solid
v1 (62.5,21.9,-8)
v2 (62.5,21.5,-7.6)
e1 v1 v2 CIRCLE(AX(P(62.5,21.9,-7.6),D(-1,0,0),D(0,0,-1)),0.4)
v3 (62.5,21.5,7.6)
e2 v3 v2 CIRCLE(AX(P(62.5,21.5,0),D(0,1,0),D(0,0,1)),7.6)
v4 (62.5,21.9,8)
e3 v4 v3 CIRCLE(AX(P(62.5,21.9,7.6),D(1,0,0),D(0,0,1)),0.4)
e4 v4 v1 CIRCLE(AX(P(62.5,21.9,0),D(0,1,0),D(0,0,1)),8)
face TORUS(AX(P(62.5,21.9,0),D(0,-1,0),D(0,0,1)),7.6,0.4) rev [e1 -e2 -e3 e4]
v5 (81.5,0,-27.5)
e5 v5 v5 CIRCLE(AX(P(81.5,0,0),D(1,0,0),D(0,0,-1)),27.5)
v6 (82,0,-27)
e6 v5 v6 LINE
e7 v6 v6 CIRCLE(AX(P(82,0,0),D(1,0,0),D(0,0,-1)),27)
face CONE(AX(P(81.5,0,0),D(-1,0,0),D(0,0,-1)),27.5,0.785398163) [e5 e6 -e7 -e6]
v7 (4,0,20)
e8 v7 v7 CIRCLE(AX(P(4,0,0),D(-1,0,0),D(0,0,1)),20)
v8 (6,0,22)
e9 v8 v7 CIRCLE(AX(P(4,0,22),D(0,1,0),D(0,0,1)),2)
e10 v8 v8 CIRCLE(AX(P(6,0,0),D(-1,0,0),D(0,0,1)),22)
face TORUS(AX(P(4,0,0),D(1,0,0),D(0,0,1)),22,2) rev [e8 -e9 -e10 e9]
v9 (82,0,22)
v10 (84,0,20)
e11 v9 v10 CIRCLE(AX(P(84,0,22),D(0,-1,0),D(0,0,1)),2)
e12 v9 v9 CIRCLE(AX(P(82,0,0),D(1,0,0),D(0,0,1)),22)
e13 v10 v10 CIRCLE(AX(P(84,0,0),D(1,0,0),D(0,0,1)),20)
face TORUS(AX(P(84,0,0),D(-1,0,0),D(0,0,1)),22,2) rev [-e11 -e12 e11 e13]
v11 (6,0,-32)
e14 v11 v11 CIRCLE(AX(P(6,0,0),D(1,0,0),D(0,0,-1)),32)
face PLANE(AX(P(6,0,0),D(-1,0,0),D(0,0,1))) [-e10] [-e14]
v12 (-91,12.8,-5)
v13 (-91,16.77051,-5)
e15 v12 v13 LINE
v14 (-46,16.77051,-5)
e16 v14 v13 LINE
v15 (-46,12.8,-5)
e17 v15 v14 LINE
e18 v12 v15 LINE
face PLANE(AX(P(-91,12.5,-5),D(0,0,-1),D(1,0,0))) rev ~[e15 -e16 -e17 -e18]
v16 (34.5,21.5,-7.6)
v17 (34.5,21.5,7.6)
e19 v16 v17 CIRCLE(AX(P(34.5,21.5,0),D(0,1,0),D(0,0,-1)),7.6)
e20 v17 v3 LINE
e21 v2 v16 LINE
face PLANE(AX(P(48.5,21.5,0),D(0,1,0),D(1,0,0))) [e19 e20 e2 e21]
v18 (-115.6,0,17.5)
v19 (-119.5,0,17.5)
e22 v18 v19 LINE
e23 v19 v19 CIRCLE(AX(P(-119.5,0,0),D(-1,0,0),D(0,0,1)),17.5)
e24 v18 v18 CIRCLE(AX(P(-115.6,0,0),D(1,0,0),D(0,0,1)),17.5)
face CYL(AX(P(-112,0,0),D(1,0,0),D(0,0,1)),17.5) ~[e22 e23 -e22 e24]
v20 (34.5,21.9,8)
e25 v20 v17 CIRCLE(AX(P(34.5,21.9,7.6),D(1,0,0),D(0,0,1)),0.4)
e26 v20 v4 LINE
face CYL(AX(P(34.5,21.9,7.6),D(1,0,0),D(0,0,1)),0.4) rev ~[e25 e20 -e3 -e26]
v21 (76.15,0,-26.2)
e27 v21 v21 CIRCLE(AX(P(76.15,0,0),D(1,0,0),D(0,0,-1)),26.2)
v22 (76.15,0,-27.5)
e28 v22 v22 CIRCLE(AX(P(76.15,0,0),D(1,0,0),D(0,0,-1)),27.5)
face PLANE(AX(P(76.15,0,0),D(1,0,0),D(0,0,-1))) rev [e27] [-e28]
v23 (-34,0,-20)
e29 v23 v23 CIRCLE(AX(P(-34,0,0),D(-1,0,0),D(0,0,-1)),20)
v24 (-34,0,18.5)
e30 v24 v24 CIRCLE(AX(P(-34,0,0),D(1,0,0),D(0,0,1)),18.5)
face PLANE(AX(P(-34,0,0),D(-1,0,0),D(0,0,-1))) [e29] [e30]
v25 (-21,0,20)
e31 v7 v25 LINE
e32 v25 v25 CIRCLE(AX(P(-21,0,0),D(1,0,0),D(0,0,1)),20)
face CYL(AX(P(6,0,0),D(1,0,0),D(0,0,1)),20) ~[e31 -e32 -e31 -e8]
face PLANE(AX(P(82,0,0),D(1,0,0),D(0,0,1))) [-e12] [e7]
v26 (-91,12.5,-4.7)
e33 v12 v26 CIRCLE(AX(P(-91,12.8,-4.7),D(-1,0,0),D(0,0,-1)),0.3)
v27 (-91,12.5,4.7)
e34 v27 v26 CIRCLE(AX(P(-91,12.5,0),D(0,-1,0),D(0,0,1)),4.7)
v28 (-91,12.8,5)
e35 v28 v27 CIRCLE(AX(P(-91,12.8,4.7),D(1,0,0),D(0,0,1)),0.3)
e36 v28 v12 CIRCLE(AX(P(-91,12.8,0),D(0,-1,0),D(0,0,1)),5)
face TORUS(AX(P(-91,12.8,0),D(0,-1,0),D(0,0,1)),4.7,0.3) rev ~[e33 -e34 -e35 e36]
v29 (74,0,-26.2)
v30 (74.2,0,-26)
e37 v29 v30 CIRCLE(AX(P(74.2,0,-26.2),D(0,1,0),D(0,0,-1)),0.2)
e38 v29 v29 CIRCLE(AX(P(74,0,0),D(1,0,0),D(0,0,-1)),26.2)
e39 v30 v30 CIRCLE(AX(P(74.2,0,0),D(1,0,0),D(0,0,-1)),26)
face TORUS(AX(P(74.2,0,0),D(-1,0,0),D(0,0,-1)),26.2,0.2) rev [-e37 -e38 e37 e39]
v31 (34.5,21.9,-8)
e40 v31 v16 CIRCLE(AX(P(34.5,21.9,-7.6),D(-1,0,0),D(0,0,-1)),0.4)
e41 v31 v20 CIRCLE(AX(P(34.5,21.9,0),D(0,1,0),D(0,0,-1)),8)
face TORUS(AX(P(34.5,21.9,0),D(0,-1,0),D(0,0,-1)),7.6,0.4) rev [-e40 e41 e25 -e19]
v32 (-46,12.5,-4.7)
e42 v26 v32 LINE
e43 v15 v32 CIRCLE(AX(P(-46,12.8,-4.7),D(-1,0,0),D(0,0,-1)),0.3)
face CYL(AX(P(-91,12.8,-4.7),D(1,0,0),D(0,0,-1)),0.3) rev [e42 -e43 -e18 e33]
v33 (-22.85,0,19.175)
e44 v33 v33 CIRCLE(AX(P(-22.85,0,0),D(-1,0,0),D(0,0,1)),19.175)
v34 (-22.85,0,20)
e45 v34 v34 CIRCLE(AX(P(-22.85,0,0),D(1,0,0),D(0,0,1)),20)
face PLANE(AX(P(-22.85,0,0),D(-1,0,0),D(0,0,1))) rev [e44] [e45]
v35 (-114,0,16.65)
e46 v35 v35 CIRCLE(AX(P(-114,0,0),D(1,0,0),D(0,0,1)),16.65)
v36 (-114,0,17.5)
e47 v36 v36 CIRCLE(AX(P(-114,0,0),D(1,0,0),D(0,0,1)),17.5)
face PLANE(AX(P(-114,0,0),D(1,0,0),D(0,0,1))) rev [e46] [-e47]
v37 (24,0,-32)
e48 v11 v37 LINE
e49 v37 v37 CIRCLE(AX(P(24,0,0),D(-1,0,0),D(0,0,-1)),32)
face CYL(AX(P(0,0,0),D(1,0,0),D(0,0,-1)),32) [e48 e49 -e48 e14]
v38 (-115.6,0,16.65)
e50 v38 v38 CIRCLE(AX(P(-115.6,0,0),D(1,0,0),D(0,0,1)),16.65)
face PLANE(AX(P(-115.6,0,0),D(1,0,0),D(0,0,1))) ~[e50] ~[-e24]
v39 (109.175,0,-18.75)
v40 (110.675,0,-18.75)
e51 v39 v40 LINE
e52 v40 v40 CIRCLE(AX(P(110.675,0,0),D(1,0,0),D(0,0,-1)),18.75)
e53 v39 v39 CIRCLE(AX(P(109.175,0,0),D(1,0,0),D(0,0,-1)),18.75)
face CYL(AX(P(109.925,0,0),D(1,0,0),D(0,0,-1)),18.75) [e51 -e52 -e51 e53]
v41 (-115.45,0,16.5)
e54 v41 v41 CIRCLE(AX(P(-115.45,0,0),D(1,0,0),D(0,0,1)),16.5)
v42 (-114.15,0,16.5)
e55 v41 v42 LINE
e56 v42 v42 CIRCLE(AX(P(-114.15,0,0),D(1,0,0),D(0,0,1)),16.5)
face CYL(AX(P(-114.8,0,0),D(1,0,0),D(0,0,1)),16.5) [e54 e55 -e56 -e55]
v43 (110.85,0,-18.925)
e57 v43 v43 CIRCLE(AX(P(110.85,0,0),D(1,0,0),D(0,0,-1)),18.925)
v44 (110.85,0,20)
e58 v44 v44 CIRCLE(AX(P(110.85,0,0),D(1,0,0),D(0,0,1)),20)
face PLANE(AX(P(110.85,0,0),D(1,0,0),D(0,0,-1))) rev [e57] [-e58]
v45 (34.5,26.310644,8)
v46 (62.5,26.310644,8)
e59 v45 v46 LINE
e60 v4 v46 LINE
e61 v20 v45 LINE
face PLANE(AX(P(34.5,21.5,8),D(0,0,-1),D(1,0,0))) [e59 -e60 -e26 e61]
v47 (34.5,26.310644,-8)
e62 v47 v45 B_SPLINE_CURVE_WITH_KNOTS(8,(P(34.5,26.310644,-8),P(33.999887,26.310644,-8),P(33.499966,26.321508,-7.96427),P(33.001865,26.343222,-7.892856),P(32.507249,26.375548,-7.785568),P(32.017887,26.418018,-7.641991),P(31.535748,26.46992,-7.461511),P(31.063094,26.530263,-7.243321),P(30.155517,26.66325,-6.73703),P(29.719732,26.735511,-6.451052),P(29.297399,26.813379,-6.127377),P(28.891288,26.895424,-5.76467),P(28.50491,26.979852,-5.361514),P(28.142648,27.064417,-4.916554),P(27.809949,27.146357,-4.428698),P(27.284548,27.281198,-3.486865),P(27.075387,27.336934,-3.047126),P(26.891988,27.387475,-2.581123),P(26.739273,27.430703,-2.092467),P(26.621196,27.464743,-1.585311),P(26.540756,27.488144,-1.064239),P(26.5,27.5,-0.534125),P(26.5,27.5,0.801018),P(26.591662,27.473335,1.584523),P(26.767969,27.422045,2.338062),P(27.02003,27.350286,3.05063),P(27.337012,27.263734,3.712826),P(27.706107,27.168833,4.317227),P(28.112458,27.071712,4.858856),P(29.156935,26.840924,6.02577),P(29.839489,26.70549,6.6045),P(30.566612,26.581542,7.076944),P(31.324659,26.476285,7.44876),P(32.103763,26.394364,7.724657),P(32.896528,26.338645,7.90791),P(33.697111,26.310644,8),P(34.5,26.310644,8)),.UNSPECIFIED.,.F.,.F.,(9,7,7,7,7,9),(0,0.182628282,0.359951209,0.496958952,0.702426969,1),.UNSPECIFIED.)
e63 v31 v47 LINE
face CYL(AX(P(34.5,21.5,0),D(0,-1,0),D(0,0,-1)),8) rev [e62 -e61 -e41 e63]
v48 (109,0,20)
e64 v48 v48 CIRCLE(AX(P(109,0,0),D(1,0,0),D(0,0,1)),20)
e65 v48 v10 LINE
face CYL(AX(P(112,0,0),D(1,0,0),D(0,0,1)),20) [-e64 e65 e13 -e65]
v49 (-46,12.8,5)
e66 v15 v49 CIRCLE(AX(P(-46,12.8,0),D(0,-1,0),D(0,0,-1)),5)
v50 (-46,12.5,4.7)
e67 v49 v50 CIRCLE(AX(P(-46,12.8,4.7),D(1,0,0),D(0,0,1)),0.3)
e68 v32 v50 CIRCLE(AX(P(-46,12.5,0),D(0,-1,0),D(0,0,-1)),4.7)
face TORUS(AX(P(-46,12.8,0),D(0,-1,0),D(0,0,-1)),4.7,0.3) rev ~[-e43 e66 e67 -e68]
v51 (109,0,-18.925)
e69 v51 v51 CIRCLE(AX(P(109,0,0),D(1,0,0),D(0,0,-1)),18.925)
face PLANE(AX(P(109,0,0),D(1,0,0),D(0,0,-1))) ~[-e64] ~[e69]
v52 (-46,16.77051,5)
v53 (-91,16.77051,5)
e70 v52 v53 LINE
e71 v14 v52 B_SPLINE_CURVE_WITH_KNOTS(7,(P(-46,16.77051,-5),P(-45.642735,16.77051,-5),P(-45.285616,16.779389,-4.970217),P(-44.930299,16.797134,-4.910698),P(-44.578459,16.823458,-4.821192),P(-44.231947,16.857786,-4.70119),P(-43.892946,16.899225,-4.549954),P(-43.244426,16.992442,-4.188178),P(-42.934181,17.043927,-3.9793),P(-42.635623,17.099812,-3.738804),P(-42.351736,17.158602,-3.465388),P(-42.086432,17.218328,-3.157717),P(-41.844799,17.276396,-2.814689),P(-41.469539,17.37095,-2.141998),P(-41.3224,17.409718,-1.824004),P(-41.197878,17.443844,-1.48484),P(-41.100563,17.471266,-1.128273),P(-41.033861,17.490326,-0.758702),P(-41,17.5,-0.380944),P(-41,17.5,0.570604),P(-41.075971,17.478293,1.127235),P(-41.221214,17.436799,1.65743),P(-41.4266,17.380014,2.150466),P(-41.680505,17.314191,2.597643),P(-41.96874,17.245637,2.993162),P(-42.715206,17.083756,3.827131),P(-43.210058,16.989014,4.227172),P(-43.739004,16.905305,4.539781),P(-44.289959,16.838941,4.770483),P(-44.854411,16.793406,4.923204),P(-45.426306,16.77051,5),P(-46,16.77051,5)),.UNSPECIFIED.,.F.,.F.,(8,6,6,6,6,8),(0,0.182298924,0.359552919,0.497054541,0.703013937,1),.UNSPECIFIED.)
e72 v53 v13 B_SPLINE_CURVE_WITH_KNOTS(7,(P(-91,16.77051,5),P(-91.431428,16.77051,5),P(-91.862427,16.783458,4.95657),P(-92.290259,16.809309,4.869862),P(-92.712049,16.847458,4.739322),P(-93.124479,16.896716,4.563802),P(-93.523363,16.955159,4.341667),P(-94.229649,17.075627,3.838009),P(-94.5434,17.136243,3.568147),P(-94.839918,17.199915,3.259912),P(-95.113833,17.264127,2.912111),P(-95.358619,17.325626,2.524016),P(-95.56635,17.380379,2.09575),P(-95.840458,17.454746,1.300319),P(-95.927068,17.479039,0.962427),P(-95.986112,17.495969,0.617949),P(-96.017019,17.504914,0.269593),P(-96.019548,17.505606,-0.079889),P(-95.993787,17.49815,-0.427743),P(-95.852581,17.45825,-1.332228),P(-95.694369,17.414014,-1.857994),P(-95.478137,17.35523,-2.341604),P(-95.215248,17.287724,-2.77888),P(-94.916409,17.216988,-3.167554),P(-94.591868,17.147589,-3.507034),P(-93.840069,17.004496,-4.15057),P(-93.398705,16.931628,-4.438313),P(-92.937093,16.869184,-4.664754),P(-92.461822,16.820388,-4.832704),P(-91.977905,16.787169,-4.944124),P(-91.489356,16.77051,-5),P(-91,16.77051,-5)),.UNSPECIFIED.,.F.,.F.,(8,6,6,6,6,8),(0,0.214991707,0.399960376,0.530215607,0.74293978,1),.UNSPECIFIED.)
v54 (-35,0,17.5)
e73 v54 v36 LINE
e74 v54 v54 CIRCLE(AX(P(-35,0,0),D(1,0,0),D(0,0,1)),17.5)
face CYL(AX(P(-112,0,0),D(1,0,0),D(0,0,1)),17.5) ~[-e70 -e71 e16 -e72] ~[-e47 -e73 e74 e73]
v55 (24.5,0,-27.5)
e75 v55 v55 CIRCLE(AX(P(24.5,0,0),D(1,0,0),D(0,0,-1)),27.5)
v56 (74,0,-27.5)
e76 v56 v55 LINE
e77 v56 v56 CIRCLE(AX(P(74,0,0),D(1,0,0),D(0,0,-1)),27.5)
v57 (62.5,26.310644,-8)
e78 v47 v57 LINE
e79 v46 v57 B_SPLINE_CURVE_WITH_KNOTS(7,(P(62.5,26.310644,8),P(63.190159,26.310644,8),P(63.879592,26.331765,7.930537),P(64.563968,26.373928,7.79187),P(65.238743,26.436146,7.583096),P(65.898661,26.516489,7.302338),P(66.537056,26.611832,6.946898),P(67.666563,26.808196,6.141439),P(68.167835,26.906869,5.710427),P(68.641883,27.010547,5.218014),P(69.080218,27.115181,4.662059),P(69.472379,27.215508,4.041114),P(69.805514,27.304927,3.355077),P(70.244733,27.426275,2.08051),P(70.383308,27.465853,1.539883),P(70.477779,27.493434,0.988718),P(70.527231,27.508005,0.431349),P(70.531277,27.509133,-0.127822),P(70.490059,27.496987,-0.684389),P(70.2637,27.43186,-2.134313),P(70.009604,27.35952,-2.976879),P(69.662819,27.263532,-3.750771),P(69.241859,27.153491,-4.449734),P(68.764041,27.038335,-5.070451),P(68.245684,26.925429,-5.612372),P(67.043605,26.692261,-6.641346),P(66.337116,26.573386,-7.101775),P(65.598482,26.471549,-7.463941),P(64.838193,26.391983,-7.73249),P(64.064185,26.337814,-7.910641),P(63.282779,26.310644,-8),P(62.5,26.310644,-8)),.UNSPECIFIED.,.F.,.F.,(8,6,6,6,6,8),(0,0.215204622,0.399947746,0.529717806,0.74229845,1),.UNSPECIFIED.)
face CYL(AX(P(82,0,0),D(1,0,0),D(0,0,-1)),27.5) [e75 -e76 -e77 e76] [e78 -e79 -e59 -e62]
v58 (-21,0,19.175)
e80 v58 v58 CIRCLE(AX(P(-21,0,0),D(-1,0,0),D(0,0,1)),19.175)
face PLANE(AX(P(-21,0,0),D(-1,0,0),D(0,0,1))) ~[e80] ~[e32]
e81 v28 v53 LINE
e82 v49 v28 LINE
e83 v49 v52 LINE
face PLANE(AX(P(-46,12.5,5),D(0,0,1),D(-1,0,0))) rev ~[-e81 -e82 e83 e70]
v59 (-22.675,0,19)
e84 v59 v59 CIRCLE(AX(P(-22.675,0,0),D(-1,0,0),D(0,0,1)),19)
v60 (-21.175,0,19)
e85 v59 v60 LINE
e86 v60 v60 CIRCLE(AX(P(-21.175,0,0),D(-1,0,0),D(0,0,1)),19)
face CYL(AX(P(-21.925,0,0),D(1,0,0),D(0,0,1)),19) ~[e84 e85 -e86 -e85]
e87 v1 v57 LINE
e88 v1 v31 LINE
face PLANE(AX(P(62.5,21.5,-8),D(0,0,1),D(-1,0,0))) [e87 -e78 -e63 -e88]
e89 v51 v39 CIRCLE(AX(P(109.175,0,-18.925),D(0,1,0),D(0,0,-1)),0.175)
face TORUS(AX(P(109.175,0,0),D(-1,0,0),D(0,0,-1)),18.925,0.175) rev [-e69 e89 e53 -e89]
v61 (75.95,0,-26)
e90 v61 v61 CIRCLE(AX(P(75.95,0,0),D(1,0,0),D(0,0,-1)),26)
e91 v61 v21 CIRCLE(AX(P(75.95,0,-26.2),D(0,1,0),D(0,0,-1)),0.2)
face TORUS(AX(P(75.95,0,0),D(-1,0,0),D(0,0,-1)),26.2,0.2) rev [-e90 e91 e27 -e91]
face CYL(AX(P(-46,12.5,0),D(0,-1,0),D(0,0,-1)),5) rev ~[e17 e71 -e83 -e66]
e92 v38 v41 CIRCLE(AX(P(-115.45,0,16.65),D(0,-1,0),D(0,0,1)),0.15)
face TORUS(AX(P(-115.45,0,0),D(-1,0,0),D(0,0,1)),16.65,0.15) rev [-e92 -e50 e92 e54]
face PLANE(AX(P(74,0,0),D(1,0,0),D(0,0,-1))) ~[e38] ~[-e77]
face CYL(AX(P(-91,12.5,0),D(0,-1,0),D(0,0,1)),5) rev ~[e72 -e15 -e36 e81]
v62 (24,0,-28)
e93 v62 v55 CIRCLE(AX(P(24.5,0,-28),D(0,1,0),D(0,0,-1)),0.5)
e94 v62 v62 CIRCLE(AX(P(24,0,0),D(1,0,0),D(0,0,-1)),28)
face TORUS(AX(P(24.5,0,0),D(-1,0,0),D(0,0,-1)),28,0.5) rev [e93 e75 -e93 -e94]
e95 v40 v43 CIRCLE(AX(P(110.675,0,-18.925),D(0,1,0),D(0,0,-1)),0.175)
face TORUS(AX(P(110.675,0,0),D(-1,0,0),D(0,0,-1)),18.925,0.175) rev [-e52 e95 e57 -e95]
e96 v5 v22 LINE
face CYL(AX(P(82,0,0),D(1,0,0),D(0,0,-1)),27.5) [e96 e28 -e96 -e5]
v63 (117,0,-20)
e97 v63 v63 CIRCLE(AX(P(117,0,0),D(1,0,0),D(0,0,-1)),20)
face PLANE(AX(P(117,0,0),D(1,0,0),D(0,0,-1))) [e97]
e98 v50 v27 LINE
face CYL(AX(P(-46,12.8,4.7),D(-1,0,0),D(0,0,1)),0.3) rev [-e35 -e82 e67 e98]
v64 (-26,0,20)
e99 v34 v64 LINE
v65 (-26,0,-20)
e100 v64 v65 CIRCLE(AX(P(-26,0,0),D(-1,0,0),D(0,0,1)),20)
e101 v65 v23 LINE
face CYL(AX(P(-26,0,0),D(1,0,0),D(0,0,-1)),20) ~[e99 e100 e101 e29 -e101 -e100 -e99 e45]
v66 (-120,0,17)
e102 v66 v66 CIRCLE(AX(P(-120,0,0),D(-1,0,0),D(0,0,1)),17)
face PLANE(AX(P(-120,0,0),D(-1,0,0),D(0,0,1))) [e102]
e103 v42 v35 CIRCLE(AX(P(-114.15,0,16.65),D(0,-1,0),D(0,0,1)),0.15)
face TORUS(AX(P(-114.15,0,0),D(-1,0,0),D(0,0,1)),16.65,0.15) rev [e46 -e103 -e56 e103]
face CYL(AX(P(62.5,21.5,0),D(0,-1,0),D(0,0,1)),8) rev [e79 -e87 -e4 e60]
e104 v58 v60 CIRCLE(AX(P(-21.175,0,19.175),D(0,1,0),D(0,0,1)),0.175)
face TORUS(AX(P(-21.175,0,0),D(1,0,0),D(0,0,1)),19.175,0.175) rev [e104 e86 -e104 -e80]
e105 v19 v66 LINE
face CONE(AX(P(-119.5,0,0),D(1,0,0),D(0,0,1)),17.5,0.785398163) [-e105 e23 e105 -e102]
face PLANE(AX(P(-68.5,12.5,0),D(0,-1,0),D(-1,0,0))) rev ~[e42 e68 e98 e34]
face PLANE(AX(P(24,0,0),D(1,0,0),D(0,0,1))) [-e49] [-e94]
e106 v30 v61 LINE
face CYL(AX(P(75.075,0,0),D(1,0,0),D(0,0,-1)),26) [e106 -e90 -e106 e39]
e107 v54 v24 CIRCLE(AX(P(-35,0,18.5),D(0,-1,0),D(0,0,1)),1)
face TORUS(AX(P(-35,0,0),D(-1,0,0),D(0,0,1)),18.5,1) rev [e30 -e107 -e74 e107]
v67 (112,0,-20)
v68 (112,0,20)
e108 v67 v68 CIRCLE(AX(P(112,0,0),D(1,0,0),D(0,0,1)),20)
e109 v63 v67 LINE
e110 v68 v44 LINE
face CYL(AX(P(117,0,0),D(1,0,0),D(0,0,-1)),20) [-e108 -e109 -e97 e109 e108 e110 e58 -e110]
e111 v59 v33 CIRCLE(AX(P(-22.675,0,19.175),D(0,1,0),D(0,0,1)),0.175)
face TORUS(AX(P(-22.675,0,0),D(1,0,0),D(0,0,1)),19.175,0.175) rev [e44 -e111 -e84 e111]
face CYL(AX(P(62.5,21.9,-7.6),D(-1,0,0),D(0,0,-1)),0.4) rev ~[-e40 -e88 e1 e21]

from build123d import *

# Parameters (mm, degrees)
SKETCH1_R               = 32
BOSS_EXTRUDE1_DEPTH     = 112
CUT_EXTRUDE1_START      = -86
SKETCH2_R               = 32
SKETCH2_R_2             = 17.5
CUT_EXTRUDE1_DEPTH      = 86
CUT_EXTRUDE2_START      = -32
SKETCH3_R               = 32
SKETCH3_R_2             = 20
CUT_EXTRUDE2_DEPTH      = 32
SKETCH4_R               = 32
SKETCH4_R_2             = 20
CUT_EXTRUDE3_DEPTH      = 30
SKETCH5_R               = 32
SKETCH5_R_2             = 27.5
CUT_EXTRUDE4_DEPTH      = 58
FILLET1_R               = 2
SKETCH7_W               = 1.85
SKETCH7_H               = 3.319400233
FILLET4_R               = 0.175
SKETCH8_W               = 2.15
SKETCH8_H               = 4.135066137
FILLET5_R               = 0.2
SKETCH9_W               = 1.85
SKETCH9_H               = 3.052950418
FILLET6_R               = 0.175
BOSS_EXTRUDE2_START     = 5
SKETCH10_R              = 20
BOSS_EXTRUDE2_DEPTH     = 5
CUT_EXTRUDE6_REACH      = 139.947
CUT_EXTRUDE6_END_RADIUS = 17.5
CUT_EXTRUDE6_START      = 12.5
FILLET8_R               = 0.3
CUT_EXTRUDE7_REACH      = 148.947
CUT_EXTRUDE7_END_RADIUS = 27.5
CUT_EXTRUDE7_START      = 21.5
FILLET9_R               = 0.4
SKETCH14_R              = 20
BOSS_EXTRUDE3_DEPTH     = 8
SKETCH15_R              = 17.5
BOSS_EXTRUDE4_DEPTH     = 8
SKETCH16_W              = 1.6
SKETCH16_H              = 2.705242986
FILLET10_R              = 0.15
CHAMFER1_SIZE           = 0.5
FILLET11_R              = 1
FILLET12_R              = 0.5


with BuildPart() as part:
    # Sketch1 → Boss-Extrude1 (new, symmetric)
    with BuildSketch(Plane(origin=(0, 0, 0), x_dir=(0, 0, -1), z_dir=(1, 0, 0))):
        Circle(SKETCH1_R)
    extrude(amount=BOSS_EXTRUDE1_DEPTH, both=True)

    # Sketch2 → Cut-Extrude1 (cut)
    with BuildSketch(Plane.ZY.offset(112).offset(CUT_EXTRUDE1_START)):
        Circle(SKETCH2_R)
        Circle(SKETCH2_R_2, mode=Mode.SUBTRACT)
    extrude(amount=CUT_EXTRUDE1_DEPTH, mode=Mode.SUBTRACT)

    # Sketch3 → Cut-Extrude2 (cut)
    with BuildSketch(Plane.ZY.offset(26).offset(CUT_EXTRUDE2_START)):
        Circle(SKETCH3_R)
        Circle(SKETCH3_R_2, mode=Mode.SUBTRACT)
    extrude(amount=CUT_EXTRUDE2_DEPTH, mode=Mode.SUBTRACT)

    # Sketch4 → Cut-Extrude3 (cut)
    with BuildSketch(Plane(origin=(112, 0, 0), x_dir=(0, 0, -1), z_dir=(1, 0, 0))):
        with Locations(Location((0, 0, 0), (0, 0, 180))):
            Circle(SKETCH4_R)
        with Locations(Location((0, 0, 0), (0, 0, 180))):
            Circle(SKETCH4_R_2, mode=Mode.SUBTRACT)
    extrude(amount=-CUT_EXTRUDE3_DEPTH, mode=Mode.SUBTRACT)

    # Sketch5 → Cut-Extrude4 (cut)
    with BuildSketch(Plane(origin=(82, 0, 0), x_dir=(0, 0, -1), z_dir=(1, 0, 0))):
        with Locations(Location((0, 0, 0), (0, 0, 180))):
            Circle(SKETCH5_R)
        Circle(SKETCH5_R_2, mode=Mode.SUBTRACT)
    extrude(amount=-CUT_EXTRUDE4_DEPTH, mode=Mode.SUBTRACT)

    # Fillet1
    fillet1_edges = [part.edges().sort_by_distance(p)[0] for p in [
        (6, 0, -20),
        (82, 0, -20),
    ]]
    fillet(fillet1_edges, radius=FILLET1_R)

    # Sketch7 → Cut-Revolve2 (revolve, cut)
    with BuildSketch(Plane.XY, mode=Mode.PRIVATE) as cut_revolve2_sk:
        with Locations((-21.925, 20.659700116)):
            Rectangle(SKETCH7_W, SKETCH7_H)
    revolve(cut_revolve2_sk.sketch.rotate(Axis((-21.698572551, 0, 0), (-1, 0, 0)), 270), axis=Axis((-21.698572551, 0, 0), (-1, 0, 0)), mode=Mode.SUBTRACT)

    # Fillet4
    fillet4_edges = [part.edges().sort_by_distance(p)[0] for p in [
        (-22.85, 0, -19),
        (-21, 0, -19),
    ]]
    fillet(fillet4_edges, radius=FILLET4_R)

    # Sketch8 → Cut-Revolve3 (revolve, cut)
    with BuildSketch(Plane.XY, mode=Mode.PRIVATE) as cut_revolve3_sk:
        with Locations((75.075, 28.067533069)):
            Rectangle(SKETCH8_W, SKETCH8_H)
    revolve(cut_revolve3_sk.sketch.rotate(Axis((71.197798692, 0, 0), (1, 0, 0)), 270), axis=Axis((71.197798692, 0, 0), (1, 0, 0)), mode=Mode.SUBTRACT)

    # Fillet5
    fillet5_edges = [part.edges().sort_by_distance(p)[0] for p in [
        (74, 0, 26),
        (76.15, 0, 26),
    ]]
    fillet(fillet5_edges, radius=FILLET5_R)

    # Sketch9 → Cut-Revolve4 (revolve, cut)
    with BuildSketch(Plane.XY, mode=Mode.PRIVATE) as cut_revolve4_sk:
        with Locations((109.925, 20.276475209)):
            Rectangle(SKETCH9_W, SKETCH9_H)
    revolve(cut_revolve4_sk.sketch.rotate(Axis((107.700386282, 0, 0), (1, 0, 0)), 270), axis=Axis((107.700386282, 0, 0), (1, 0, 0)), mode=Mode.SUBTRACT)

    # Fillet6
    fillet6_edges = [part.edges().sort_by_distance(p)[0] for p in [
        (109, 0, 18.75),
        (110.85, 0, 18.75),
    ]]
    fillet(fillet6_edges, radius=FILLET6_R)

    # Sketch10 → Boss-Extrude2 (add)
    with BuildSketch(Plane(origin=(112, 0, 0), x_dir=(0, 0, -1), z_dir=(1, 0, 0)).offset(BOSS_EXTRUDE2_START)):
        Circle(SKETCH10_R)
    extrude(amount=-BOSS_EXTRUDE2_DEPTH)

    # Cut-Extrude6: up to this cylinder (the profile starts inside it)
    cut_extrude6_end = Plane(origin=(-68.5, 0, 0), z_dir=(-1, 0, 0)) * Cylinder(CUT_EXTRUDE6_END_RADIUS, 315.894, mode=Mode.PRIVATE)
    # Sketch12 → Cut-Extrude6 (cut, up to the surface)
    with BuildSketch(Plane(origin=(0, 0, 0), x_dir=(1, 0, 0), z_dir=(0, 1, 0)).offset(CUT_EXTRUDE6_START), mode=Mode.PRIVATE) as cut_extrude6_sk1:
        with BuildLine():
            Line((-46, -5), (-91, -5))
            ThreePointArc((-91, -5), (-96, 0), (-91, 5))
            Line((-91, 5), (-46, 5))
            ThreePointArc((-46, 5), (-41, 0), (-46, -5))
        make_face()
    cut_extrude6_tool1 = extrude(cut_extrude6_sk1.sketch, amount=CUT_EXTRUDE6_REACH, mode=Mode.PRIVATE) & cut_extrude6_end
    add(cut_extrude6_tool1.solids().sort_by_distance((-68.5, 12.5, 0))[0], mode=Mode.SUBTRACT)

    # Fillet8
    fillet8_edges = [part.edges().sort_by_distance(p)[0] for p in [
        (-96, 12.5, 0),
        (-68.5, 12.5, 5),
        (-41, 12.5, 0),
        (-68.5, 12.5, -5),
    ]]
    fillet(fillet8_edges, radius=FILLET8_R)

    # Cut-Extrude7: up to this cylinder (the profile starts inside it)
    cut_extrude7_end = Plane(origin=(48.5, 0, 0), z_dir=(1, 0, 0)) * Cylinder(CUT_EXTRUDE7_END_RADIUS, 353.894, mode=Mode.PRIVATE)
    # Sketch13 → Cut-Extrude7 (cut, up to the surface)
    with BuildSketch(Plane(origin=(0, 0, 0), x_dir=(1, 0, 0), z_dir=(0, 1, 0)).offset(CUT_EXTRUDE7_START), mode=Mode.PRIVATE) as cut_extrude7_sk1:
        with BuildLine():
            Line((34.5, -8), (62.5, -8))
            ThreePointArc((62.5, -8), (70.5, 0), (62.5, 8))
            Line((62.5, 8), (34.5, 8))
            ThreePointArc((34.5, 8), (26.5, 0), (34.5, -8))
        make_face()
    cut_extrude7_tool1 = extrude(cut_extrude7_sk1.sketch, amount=CUT_EXTRUDE7_REACH, mode=Mode.PRIVATE) & cut_extrude7_end
    add(cut_extrude7_tool1.solids().sort_by_distance((48.5, 21.5, 0))[0], mode=Mode.SUBTRACT)

    # Fillet9
    fillet9_edges = [part.edges().sort_by_distance(p)[0] for p in [
        (70.5, 21.5, 0),
        (48.5, 21.5, -8),
        (26.5, 21.5, 0),
        (48.5, 21.5, 8),
    ]]
    fillet(fillet9_edges, radius=FILLET9_R)

    # Sketch14 → Boss-Extrude3 (add)
    with BuildSketch(Plane.ZY.offset(26)):
        with Locations(Location((0, 0, 0), (0, 0, 180))):
            Circle(SKETCH14_R)
    extrude(amount=BOSS_EXTRUDE3_DEPTH)

    # Sketch15 → Boss-Extrude4 (add)
    with BuildSketch(Plane.ZY.offset(112)):
        Circle(SKETCH15_R)
    extrude(amount=BOSS_EXTRUDE4_DEPTH)

    # Sketch16 → Cut-Revolve5 (revolve, cut)
    with BuildSketch(Plane.XY, mode=Mode.PRIVATE) as cut_revolve5_sk:
        with Locations((-114.8, 17.852621493)):
            Rectangle(SKETCH16_W, SKETCH16_H)
    revolve(cut_revolve5_sk.sketch.rotate(Axis((-114, 0, 0), (1, 0, 0)), 90), axis=Axis((-114, 0, 0), (1, 0, 0)), mode=Mode.SUBTRACT)

    # Fillet10
    fillet10_edges = [part.edges().sort_by_distance(p)[0] for p in [
        (-115.6, 0, -16.5),
        (-114, 0, -16.5),
    ]]
    fillet(fillet10_edges, radius=FILLET10_R)

    # Chamfer1
    chamfer1_edges = [part.edges().sort_by_distance(p)[0] for p in [
        (-120, 0, -17.5),
        (82, 0, 27.5),
    ]]
    chamfer(chamfer1_edges, length=CHAMFER1_SIZE)

    # Fillet11
    fillet11_edges = [part.edges().sort_by_distance(p)[0] for p in [
        (-34, 0, -17.5),
    ]]
    fillet(fillet11_edges, radius=FILLET11_R)

    # Fillet12
    fillet12_edges = [part.edges().sort_by_distance(p)[0] for p in [
        (24, 0, 27.5),
    ]]
    fillet(fillet12_edges, radius=FILLET12_R)


solid = part.part
